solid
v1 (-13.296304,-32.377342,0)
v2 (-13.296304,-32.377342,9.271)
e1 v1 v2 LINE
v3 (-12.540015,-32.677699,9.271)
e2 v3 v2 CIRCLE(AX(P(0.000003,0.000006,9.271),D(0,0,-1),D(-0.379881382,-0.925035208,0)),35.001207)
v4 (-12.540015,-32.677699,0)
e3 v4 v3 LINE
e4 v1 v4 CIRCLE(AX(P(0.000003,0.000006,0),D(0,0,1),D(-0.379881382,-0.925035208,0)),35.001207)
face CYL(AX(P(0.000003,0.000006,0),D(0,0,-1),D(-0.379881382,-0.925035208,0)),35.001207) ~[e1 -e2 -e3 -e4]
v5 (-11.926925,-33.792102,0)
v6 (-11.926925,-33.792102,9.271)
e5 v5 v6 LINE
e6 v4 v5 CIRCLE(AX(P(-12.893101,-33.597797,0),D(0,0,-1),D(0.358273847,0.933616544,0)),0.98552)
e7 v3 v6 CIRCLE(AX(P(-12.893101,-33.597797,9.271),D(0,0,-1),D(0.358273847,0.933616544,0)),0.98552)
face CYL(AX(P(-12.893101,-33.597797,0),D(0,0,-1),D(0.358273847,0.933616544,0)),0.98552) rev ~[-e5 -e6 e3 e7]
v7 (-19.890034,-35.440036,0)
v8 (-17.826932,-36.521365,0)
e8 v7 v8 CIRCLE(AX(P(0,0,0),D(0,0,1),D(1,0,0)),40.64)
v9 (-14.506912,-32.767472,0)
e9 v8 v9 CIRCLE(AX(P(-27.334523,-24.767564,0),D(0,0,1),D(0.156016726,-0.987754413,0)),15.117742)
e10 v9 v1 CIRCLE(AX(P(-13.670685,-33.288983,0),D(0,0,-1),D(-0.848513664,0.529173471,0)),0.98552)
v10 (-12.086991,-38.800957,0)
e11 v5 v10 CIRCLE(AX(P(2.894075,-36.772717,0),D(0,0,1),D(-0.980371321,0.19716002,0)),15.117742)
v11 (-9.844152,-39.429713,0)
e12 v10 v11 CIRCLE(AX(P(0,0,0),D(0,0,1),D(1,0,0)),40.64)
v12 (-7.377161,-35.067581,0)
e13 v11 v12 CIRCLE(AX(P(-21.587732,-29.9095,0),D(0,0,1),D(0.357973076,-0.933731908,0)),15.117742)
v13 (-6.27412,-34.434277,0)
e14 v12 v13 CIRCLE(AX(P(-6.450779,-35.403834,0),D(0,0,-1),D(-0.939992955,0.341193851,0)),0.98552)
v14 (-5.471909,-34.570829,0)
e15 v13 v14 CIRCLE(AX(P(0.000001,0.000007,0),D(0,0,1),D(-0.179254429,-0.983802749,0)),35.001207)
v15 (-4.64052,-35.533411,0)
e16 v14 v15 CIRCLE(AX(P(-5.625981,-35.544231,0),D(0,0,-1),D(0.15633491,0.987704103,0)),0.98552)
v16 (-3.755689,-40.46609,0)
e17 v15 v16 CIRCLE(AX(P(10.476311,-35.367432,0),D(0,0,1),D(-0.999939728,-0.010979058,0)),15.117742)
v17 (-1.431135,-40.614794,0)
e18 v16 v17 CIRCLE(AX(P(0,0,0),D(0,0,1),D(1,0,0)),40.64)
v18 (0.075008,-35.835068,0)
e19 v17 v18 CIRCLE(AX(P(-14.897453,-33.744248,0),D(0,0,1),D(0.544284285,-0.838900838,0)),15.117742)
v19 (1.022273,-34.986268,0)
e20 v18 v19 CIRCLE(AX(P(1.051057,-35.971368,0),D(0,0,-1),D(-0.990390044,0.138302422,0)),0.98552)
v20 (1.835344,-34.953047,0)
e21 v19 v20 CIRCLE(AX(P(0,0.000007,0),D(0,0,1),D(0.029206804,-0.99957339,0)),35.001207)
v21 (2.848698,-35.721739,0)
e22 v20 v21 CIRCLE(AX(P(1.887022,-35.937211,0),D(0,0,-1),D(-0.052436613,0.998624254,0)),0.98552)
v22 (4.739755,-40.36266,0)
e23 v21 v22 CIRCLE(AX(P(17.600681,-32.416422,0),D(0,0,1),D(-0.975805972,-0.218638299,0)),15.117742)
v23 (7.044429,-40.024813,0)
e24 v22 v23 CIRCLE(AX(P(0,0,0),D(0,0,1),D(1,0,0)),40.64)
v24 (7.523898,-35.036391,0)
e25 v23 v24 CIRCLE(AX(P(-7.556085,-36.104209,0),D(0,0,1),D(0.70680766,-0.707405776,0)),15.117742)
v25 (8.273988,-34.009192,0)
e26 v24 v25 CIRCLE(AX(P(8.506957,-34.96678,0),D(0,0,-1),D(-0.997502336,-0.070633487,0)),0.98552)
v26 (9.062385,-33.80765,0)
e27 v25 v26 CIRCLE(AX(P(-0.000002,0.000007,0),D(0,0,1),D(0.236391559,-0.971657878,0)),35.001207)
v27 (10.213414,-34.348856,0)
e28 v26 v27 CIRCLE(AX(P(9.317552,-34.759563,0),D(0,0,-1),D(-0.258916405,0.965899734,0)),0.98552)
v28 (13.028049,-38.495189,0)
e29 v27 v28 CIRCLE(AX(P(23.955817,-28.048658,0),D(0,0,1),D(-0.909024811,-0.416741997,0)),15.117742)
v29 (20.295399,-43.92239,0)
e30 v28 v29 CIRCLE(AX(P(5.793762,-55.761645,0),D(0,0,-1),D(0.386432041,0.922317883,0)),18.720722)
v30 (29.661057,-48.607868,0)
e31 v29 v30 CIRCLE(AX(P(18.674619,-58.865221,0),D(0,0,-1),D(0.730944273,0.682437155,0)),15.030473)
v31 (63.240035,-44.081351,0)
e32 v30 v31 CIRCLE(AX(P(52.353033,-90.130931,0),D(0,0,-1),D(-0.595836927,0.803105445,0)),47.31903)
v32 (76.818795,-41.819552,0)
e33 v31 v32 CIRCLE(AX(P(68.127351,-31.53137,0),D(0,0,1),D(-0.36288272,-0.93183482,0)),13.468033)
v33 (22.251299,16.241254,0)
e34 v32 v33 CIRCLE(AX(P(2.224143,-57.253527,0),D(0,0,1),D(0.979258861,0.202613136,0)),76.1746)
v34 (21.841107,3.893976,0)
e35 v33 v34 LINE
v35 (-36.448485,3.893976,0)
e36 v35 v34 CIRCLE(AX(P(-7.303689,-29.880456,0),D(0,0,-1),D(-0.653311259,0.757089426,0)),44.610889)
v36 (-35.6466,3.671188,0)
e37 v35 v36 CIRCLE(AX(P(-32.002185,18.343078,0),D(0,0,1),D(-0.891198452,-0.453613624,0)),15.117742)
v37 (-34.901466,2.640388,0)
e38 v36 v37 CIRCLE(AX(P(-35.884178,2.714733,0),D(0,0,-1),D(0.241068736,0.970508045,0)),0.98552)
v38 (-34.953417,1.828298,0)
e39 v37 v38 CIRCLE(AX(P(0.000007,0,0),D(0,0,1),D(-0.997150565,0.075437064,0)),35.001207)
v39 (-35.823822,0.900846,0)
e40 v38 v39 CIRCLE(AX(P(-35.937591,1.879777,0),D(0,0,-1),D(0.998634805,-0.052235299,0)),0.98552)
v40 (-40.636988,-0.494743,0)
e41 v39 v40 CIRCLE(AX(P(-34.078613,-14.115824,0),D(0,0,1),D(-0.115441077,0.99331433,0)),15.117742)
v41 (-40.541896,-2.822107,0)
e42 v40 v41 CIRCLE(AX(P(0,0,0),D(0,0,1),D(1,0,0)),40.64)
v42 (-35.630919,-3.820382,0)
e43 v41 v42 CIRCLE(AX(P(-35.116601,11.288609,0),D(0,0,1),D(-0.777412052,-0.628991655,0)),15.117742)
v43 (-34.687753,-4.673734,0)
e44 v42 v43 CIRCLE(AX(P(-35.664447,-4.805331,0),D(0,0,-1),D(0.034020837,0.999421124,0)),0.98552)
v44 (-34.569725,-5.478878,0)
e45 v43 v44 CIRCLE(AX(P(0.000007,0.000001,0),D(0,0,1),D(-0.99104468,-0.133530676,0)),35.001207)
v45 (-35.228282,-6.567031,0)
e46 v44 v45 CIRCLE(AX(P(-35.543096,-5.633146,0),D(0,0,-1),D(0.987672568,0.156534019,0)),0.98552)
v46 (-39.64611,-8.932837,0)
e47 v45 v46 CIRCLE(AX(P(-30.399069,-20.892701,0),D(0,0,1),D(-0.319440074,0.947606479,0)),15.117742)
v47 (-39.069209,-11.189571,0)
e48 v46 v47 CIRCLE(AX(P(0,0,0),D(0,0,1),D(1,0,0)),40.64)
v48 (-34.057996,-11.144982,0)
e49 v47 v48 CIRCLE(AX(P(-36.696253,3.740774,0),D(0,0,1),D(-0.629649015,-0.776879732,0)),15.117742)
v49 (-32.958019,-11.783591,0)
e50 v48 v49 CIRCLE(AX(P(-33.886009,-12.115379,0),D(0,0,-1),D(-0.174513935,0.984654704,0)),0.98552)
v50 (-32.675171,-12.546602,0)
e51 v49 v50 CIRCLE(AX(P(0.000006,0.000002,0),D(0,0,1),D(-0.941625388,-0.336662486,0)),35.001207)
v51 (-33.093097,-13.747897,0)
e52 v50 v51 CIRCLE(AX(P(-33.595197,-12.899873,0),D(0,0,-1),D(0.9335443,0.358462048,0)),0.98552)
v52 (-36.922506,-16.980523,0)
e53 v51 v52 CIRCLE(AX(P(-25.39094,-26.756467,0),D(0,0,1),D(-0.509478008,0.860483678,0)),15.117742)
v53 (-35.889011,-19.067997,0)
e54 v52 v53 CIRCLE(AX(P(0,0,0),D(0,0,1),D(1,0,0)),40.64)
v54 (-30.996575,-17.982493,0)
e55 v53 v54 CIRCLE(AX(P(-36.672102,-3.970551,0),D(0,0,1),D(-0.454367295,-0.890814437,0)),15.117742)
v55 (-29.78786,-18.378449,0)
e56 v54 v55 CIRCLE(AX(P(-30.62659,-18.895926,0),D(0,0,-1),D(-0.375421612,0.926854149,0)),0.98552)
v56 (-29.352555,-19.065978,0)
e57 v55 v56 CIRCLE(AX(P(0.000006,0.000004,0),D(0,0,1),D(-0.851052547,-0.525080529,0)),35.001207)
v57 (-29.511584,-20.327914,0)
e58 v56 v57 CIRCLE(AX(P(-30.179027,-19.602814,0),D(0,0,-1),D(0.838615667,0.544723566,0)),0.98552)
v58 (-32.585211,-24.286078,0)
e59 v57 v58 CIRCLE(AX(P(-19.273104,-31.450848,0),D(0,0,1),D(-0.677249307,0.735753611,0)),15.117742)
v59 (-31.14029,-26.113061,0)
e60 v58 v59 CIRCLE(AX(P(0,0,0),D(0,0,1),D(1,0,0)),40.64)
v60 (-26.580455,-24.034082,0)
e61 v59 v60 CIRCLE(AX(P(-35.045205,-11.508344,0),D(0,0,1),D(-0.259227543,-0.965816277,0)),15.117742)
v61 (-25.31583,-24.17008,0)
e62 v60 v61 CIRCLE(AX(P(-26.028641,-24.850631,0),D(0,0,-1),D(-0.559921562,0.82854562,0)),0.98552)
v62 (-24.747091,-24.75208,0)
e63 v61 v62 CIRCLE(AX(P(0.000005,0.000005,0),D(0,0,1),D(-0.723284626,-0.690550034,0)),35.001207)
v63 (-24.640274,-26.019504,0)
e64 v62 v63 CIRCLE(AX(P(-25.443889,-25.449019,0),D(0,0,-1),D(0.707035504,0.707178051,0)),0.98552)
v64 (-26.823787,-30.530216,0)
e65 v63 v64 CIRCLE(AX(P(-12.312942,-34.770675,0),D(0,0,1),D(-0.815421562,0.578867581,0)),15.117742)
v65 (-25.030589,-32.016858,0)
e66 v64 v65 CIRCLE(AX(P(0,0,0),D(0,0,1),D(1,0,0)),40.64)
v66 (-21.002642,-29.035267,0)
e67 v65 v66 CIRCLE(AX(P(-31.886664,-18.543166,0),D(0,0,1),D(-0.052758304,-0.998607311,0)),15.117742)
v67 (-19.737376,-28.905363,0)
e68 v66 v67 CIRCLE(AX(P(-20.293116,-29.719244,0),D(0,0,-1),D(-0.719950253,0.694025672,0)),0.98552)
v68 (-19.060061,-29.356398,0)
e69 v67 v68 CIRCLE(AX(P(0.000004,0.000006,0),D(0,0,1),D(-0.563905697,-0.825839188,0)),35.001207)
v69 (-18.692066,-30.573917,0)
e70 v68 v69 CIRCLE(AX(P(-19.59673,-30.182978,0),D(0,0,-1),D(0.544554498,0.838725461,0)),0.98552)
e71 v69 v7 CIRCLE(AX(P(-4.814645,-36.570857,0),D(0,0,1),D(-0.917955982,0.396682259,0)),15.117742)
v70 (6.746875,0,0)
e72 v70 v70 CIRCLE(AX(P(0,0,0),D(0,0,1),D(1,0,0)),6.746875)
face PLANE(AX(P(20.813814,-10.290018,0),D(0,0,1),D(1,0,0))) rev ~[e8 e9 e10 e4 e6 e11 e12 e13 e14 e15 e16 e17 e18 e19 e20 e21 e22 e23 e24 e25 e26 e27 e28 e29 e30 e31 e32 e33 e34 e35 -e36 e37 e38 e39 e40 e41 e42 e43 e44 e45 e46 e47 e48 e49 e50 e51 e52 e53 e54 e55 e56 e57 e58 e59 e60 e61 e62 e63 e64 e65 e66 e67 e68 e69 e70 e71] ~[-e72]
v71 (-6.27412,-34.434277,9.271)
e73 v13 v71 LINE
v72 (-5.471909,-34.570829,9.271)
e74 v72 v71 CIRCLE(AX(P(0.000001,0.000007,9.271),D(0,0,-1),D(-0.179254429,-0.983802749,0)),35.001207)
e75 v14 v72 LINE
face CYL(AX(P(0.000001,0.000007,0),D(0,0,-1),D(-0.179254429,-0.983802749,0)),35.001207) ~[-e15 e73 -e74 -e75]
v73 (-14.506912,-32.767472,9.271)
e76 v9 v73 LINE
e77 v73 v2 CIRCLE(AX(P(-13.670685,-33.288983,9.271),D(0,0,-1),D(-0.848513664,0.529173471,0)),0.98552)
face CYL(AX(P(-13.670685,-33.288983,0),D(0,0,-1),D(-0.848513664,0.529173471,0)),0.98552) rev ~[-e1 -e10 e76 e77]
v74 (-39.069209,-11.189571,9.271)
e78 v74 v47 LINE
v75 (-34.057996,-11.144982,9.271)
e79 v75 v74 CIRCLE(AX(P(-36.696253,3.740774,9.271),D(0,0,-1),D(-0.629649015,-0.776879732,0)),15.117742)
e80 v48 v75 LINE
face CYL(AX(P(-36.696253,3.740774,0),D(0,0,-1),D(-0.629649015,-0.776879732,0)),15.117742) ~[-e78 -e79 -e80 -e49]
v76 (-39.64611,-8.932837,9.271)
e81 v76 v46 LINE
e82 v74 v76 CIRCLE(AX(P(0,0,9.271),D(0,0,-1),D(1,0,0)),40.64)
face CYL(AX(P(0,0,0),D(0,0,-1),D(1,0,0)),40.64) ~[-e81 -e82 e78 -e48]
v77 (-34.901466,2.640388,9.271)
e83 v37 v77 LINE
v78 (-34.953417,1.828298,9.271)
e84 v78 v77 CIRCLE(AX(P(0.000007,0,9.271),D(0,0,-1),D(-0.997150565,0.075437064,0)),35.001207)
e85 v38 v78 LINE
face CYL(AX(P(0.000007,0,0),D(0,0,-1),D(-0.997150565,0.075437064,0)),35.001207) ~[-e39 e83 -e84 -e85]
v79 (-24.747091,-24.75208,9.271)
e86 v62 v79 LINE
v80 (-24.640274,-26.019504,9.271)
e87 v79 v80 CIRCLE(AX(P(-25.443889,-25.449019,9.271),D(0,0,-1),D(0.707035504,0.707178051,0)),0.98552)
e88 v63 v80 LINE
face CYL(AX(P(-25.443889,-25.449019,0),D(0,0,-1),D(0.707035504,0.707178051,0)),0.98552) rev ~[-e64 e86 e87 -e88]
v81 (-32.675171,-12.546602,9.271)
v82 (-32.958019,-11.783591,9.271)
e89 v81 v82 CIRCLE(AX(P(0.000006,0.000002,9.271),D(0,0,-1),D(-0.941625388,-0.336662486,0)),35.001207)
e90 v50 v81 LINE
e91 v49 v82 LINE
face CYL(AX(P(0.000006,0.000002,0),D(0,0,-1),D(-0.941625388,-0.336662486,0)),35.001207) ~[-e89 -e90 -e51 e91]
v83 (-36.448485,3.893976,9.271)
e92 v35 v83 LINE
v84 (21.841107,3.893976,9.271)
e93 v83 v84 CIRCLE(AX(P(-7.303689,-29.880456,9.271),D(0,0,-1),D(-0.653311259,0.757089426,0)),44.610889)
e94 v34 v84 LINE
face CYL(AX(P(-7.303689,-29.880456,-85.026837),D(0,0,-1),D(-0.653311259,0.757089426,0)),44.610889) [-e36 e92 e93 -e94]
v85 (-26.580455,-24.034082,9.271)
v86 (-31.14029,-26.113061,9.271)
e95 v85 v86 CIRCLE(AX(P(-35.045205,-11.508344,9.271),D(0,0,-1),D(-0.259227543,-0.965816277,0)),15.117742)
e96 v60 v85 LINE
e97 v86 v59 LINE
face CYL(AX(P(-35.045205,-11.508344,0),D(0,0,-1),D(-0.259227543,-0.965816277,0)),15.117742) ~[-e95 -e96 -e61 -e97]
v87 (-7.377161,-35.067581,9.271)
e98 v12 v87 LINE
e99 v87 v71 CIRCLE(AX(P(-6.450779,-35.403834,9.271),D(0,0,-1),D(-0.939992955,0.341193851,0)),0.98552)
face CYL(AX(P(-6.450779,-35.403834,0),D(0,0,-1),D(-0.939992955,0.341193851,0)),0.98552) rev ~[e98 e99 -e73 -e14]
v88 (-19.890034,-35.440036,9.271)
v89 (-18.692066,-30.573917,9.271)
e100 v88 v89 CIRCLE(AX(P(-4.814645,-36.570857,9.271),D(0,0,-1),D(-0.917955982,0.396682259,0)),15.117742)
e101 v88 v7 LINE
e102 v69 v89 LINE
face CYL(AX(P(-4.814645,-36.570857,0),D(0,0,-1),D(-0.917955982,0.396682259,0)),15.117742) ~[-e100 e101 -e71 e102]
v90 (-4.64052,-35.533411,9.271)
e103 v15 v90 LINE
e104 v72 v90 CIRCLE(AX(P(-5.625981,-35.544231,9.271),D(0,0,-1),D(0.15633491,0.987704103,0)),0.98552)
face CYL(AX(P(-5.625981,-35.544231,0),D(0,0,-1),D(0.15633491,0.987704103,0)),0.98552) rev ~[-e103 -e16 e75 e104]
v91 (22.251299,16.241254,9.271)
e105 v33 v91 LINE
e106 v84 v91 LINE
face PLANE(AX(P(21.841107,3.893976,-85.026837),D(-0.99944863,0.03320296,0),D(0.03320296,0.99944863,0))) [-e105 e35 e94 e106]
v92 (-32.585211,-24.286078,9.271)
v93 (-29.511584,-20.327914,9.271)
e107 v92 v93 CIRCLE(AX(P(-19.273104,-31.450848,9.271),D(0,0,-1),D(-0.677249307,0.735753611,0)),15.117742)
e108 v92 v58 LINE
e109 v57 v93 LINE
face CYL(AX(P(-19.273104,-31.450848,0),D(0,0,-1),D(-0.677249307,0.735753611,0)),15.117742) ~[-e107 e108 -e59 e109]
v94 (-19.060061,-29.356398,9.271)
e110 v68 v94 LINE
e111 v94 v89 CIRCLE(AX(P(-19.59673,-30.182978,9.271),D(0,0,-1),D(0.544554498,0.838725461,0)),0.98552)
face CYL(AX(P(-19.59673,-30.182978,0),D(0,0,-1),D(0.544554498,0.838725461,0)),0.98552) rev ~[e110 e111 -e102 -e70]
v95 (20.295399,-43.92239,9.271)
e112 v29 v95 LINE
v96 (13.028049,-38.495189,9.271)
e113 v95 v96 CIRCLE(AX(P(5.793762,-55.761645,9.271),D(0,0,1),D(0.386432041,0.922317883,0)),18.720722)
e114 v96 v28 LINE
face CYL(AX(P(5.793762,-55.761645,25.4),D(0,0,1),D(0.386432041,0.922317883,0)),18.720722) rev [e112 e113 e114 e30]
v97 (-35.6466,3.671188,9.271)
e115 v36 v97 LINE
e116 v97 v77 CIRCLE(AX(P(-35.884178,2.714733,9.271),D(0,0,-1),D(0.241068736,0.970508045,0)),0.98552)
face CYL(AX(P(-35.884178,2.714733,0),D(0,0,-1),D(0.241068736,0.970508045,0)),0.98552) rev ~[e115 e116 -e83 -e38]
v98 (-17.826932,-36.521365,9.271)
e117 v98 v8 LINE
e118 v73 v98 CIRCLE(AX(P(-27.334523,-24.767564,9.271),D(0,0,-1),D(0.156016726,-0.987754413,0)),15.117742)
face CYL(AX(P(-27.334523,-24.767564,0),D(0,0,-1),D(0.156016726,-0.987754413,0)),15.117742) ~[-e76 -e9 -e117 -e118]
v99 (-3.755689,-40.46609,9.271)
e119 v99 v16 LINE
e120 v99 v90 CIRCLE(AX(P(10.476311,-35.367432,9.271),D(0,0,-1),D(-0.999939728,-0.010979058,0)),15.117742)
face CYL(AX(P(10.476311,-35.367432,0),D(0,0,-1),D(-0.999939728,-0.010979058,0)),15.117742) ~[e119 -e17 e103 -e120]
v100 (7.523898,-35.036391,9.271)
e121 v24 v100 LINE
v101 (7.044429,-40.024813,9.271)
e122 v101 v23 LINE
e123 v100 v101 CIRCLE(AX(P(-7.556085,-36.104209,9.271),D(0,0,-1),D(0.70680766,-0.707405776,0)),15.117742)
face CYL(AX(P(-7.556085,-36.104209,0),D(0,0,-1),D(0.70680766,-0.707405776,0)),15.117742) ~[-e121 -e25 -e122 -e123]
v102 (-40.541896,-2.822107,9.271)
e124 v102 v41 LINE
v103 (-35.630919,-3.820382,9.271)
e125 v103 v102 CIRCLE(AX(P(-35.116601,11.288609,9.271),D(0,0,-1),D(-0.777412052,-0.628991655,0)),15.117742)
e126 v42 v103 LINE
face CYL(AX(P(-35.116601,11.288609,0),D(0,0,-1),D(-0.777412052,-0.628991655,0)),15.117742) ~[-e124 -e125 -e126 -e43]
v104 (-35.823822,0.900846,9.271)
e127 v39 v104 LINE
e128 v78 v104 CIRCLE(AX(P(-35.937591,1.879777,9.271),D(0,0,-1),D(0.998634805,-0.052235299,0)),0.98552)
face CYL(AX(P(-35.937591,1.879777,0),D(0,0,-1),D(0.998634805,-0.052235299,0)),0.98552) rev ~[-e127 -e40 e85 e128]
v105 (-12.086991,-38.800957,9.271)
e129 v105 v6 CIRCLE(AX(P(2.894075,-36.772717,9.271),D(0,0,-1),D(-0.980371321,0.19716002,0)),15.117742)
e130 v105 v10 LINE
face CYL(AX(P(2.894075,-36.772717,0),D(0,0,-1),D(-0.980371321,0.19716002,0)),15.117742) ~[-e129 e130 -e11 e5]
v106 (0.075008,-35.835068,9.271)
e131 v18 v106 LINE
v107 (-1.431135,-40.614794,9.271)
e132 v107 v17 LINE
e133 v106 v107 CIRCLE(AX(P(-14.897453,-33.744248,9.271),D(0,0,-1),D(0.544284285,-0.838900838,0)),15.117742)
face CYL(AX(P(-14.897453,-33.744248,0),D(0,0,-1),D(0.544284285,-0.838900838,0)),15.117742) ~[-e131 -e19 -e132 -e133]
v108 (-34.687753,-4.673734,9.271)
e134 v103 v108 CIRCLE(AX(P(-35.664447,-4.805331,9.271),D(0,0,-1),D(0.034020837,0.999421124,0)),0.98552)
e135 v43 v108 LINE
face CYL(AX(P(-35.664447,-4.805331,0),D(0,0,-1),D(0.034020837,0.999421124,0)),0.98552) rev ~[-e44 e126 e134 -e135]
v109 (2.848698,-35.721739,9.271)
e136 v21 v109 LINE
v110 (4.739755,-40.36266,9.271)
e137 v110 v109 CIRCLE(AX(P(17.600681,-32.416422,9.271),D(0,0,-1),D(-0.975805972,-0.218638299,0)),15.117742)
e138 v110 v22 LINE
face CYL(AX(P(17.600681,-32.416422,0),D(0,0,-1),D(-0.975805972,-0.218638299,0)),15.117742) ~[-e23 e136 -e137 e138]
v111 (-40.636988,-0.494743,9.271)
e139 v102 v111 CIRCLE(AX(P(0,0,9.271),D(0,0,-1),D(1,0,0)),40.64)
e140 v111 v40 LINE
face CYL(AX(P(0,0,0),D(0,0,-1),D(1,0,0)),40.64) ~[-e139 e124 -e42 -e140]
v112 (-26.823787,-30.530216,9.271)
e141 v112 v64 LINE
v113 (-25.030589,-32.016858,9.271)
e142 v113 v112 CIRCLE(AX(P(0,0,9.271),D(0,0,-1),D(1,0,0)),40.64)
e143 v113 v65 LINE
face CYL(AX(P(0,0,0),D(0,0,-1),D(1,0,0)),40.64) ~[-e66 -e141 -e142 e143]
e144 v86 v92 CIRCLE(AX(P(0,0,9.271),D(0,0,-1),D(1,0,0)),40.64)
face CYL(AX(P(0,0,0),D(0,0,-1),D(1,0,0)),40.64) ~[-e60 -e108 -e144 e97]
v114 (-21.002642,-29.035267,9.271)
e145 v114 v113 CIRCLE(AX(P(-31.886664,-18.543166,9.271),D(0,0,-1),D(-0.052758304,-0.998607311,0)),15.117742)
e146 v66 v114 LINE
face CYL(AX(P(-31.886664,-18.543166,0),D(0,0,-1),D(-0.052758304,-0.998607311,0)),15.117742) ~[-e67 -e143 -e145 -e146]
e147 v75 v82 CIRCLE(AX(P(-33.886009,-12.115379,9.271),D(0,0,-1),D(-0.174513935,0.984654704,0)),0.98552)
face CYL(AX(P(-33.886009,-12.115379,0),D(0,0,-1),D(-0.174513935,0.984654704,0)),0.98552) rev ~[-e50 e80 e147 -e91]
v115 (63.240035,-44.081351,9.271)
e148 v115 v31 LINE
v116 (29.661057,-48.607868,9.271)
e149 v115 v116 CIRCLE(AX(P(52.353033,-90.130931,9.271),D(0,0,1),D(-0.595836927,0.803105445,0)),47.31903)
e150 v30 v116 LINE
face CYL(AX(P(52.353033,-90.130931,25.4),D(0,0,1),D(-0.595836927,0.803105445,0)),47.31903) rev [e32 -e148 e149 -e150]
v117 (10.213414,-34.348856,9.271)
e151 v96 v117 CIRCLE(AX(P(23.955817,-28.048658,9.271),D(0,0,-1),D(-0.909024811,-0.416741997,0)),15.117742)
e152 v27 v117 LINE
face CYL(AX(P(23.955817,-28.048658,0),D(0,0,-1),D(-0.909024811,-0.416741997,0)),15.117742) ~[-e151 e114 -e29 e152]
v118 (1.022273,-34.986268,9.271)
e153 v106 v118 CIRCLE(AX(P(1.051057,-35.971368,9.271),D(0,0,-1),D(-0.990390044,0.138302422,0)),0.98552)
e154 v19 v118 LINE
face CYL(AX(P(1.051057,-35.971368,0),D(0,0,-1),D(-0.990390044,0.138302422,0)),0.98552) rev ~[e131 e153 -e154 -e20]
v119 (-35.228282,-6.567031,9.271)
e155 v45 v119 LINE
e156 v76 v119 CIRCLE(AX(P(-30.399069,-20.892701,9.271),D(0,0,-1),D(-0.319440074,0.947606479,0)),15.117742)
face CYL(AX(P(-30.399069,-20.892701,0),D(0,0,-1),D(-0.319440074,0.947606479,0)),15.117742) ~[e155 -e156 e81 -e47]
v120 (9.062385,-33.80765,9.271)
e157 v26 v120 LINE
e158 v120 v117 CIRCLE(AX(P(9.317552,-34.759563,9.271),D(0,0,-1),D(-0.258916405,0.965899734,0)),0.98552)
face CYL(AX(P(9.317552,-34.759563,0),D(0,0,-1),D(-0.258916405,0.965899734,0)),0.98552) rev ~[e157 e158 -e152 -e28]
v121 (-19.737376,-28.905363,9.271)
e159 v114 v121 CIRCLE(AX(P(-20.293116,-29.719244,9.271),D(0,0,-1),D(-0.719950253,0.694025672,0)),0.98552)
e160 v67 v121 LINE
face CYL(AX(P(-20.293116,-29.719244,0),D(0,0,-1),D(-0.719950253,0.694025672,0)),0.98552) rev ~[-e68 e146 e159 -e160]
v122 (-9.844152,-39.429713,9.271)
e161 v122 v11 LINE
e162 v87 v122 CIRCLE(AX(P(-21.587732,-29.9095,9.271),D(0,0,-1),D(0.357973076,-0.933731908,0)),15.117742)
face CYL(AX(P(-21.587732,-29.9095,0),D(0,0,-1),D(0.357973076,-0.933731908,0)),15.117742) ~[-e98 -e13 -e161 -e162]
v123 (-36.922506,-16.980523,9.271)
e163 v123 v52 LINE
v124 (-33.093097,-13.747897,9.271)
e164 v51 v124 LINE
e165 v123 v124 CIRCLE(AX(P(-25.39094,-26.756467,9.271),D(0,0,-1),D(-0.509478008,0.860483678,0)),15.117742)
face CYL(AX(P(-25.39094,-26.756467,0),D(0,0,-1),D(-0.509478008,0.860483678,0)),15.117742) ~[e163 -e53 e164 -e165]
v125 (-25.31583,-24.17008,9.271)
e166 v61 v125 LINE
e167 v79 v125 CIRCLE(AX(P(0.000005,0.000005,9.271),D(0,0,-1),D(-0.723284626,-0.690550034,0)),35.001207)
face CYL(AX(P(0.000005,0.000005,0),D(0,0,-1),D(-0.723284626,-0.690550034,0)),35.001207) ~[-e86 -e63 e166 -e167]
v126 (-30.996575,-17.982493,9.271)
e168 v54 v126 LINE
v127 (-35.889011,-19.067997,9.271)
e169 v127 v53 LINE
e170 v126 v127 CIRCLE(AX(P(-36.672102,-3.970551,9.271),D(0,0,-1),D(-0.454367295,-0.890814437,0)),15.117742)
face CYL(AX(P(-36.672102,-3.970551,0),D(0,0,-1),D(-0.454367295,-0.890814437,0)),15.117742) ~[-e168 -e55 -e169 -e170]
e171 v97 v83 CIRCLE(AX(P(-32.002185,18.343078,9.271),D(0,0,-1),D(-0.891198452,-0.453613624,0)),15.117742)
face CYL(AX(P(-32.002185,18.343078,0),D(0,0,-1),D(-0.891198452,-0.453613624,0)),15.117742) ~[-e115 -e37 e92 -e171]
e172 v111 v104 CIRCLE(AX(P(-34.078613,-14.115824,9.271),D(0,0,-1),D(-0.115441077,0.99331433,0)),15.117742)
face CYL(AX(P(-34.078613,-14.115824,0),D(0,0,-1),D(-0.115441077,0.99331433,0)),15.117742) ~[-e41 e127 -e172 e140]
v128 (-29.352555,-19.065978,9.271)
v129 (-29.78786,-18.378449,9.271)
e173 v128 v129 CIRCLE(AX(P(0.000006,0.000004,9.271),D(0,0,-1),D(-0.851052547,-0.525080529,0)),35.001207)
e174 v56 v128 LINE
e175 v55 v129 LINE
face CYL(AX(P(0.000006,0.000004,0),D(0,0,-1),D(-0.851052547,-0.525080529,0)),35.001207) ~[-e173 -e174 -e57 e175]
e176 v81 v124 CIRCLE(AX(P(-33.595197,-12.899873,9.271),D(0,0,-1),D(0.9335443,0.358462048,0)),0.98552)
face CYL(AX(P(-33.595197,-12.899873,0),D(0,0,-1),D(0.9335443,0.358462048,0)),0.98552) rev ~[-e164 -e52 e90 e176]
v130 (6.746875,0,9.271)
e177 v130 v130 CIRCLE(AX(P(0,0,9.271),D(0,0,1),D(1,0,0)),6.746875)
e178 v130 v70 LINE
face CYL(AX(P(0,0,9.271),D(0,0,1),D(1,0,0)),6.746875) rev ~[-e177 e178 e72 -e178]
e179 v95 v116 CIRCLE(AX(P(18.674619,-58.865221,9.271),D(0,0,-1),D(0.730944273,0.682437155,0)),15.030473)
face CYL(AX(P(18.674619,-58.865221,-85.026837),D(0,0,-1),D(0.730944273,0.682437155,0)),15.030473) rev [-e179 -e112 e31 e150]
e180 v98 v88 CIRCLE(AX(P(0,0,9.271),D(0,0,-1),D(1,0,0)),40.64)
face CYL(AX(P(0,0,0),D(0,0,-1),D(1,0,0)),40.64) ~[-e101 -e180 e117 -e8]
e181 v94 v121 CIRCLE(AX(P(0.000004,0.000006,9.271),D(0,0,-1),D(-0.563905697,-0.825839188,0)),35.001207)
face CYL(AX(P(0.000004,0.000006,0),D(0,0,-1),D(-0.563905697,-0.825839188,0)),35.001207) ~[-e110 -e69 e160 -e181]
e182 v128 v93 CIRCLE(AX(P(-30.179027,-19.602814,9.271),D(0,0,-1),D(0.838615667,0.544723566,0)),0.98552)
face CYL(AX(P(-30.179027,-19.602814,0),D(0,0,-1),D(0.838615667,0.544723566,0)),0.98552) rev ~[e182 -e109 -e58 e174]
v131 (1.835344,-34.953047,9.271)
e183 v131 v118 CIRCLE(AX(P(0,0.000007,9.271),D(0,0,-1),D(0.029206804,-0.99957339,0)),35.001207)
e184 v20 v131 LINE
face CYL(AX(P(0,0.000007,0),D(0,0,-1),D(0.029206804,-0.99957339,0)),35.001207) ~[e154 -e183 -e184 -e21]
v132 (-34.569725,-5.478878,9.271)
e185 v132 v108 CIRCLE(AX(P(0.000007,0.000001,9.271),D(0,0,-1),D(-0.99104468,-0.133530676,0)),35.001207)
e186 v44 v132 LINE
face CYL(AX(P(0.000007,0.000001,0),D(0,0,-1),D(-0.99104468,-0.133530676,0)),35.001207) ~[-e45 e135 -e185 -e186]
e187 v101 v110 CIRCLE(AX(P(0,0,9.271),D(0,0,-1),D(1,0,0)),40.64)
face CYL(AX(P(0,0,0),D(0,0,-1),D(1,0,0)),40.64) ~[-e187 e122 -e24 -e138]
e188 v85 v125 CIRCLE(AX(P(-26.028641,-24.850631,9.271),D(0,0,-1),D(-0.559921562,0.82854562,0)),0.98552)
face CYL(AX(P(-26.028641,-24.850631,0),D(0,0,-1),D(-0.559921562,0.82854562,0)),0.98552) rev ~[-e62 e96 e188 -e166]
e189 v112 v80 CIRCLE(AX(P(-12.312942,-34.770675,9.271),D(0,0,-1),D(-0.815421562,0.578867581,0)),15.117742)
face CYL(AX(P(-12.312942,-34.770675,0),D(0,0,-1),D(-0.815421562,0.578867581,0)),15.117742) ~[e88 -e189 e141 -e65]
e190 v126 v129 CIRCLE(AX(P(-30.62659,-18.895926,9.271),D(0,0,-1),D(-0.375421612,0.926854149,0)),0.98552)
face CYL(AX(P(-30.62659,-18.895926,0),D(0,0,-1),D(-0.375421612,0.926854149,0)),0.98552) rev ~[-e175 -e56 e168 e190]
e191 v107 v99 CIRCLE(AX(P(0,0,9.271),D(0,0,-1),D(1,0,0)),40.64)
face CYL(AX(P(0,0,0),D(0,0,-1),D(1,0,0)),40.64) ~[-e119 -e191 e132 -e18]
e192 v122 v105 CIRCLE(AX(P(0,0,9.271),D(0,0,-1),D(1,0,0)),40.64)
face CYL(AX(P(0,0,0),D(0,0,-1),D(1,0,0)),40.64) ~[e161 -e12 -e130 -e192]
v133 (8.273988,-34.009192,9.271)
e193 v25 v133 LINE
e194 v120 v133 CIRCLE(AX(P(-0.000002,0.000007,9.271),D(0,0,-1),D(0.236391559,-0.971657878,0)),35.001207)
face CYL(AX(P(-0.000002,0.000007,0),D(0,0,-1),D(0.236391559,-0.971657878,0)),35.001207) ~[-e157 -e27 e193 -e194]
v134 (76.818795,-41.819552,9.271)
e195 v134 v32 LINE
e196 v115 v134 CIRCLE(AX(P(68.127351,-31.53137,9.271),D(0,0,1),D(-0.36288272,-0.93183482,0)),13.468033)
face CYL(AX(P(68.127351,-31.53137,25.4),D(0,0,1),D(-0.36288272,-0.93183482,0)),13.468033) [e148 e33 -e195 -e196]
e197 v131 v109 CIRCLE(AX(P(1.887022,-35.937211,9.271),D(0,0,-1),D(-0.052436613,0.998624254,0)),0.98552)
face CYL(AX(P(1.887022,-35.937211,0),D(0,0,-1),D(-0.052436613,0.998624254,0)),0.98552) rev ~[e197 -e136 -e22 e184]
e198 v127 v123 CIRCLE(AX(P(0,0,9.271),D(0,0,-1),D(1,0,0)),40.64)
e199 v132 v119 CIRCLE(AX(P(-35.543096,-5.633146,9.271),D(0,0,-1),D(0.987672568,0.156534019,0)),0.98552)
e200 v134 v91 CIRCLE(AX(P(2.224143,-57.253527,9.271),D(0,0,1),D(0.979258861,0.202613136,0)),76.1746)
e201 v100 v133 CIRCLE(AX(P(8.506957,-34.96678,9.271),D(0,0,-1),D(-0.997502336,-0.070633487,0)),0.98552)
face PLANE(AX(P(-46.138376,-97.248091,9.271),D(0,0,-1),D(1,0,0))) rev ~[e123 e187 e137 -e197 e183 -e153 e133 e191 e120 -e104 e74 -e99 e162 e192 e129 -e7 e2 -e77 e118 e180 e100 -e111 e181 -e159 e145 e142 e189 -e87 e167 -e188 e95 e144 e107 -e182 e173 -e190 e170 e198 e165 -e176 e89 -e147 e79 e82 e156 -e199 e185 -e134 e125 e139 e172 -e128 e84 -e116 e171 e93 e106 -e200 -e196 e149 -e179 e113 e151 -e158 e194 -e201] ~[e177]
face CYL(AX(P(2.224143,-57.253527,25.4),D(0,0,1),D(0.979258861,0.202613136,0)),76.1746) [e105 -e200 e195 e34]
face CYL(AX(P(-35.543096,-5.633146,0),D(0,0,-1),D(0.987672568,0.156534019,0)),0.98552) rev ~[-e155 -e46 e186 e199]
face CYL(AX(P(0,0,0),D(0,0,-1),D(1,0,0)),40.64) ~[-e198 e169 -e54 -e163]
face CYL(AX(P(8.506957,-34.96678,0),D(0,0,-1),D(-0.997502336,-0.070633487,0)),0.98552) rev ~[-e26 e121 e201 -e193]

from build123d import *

# Parameters (mm, degrees)
SKETCH3_R               = 40.64
GEARBODY_DEPTH          = 25.4
TOOTHCUT_DEPTH          = 63.836129734
CIRPATTERN1_COUNT       = 30
BOREDIA_R               = 9.525
BORE_DEPTH              = 12700
CUT_EXTRUDE1_DEPTH      = 63.817881856
BOSS_EXTRUDE1_DEPTH     = 25.4
CUT_EXTRUDE2_DEPTH      = 97.248090867
CUT_EXTRUDE2_DEPTH_BACK = 97.248090867
CUT_EXTRUDE3_DEPTH      = 94.297837255
CUT_EXTRUDE3_DEPTH_BACK = 94.297837255
SKETCH8_R               = 10.901188975
SKETCH8_R_2             = 6.746875
BOSS_EXTRUDE2_DEPTH     = 9.271
CUT_EXTRUDE4_DEPTH      = 94.297837255
CUT_EXTRUDE4_DEPTH_BACK = 94.297837255


with BuildPart() as part:
    # Sketch3 → gearBody (new body)
    with BuildSketch(Plane.XY):
        Circle(SKETCH3_R)
    extrude(amount=GEARBODY_DEPTH)

    # Sketch2 → toothCut (cut, through all)
    with BuildSketch(Plane.XY):
        with BuildLine():
            ThreePointArc((34.901466352, -2.640387833), (34.929801576, -2.234493965), (34.953416534, -1.828298136))
            ThreePointArc((34.953416534, -1.828298136), (35.218972856, -1.205360668), (35.823821616, -0.900845929))
            ThreePointArc((35.823821616, -0.900845929), (41.902420255, 1.180053047), (46.567899911, 5.597382731))
            ThreePointArc((46.567899911, 5.597382731), (46.807414621, -2.994316622), (45.4750933, -11.485464069))
            ThreePointArc((45.4750933, -11.485464069), (41.410501506, -6.509663078), (35.646600115, -3.671187658))
            ThreePointArc((35.646600115, -3.671187658), (35.08548304, -3.292084932), (34.901466352, -2.640387833))
        make_face()
    toothcut = extrude(amount=TOOTHCUT_DEPTH, mode=Mode.SUBTRACT)

    # CirPattern1: toothCut ×30 about axis
    cirpattern1_axis = Axis((0, 0, 0), (0, 0, 1))
    for i in range(1, CIRPATTERN1_COUNT):
        add(toothcut.rotate(cirpattern1_axis, i * 360 / CIRPATTERN1_COUNT), mode=Mode.SUBTRACT)

    # boreDia → bore (cut, symmetric)
    with BuildSketch(Plane.XY):
        Circle(BOREDIA_R)
    extrude(amount=BORE_DEPTH, both=True, mode=Mode.SUBTRACT)

    # Sketch4 → Cut-Extrude1 (cut, through all)
    with BuildSketch(Plane.XY.offset(25.4)):
        with BuildLine():
            ThreePointArc((-43.554352266, 3.655257975), (1.299887875, 18.694416006), (46.382242057, 4.353548725))
            ThreePointArc((46.382242057, 4.353548725), (1.078287813, 47.235471327), (-43.554352266, 3.655257975))
        make_face()
    extrude(amount=-CUT_EXTRUDE1_DEPTH, mode=Mode.SUBTRACT)

    # Sketch5 → Boss-Extrude1 (add)
    with BuildSketch(Plane.XY.offset(25.4)):
        with BuildLine():
            Line((-40.520407877, 5.797825642), (17.717099168, 12.48871132))
            Line((17.717099168, 12.48871132), (8.960832095, -26.928019276))
            Line((8.960832095, -26.928019276), (13.028048789, -38.495188592))
            ThreePointArc((13.028048789, -38.495188592), (20.295398902, -43.922390287), (24.158608262, -52.128760334))
            ThreePointArc((24.158608262, -52.128760334), (42.8096102, -43.78426266), (63.240034891, -44.081351255))
            ThreePointArc((63.240034891, -44.081351255), (70.340218446, -44.816365594), (76.818795497, -41.819551953))
            ThreePointArc((76.818795497, -41.819551953), (30.86783196, 13.330528242), (-40.520407877, 5.797825642))
        make_face()
    extrude(amount=-BOSS_EXTRUDE1_DEPTH)

    # Sketch6 → Cut-Extrude2 (cut, two sides: drawn at the far end of the back side and taken through both)
    with BuildSketch(Plane(origin=(0, 0, 0), x_dir=(1, 0, 0), z_dir=(0, 1, 0)).offset(-CUT_EXTRUDE2_DEPTH_BACK)):
        Polygon((-46.138376309, -9.271), (97.816171298, -9.271), (71.932802696, -41.15378122), (-48.678279579, -38.064709676), align=None)
    extrude(amount=CUT_EXTRUDE2_DEPTH + CUT_EXTRUDE2_DEPTH_BACK, mode=Mode.SUBTRACT)

    # Sketch7 → Cut-Extrude3 (cut, two sides: drawn at the far end of the back side and taken through both)
    with BuildSketch(Plane.XY.offset(9.271).offset(-CUT_EXTRUDE3_DEPTH_BACK)):
        with BuildLine():
            Line((21.841106952, 3.893976142), (22.251299285, 16.241253613))
            Line((22.251299285, 16.241253613), (23.901139449, 23.204831581))
            Line((23.901139449, 23.204831581), (-36.876630256, 21.261551183))
            Line((-36.876630256, 21.261551183), (-43.577597148, 3.302959913))
            Line((-43.577597148, 3.302959913), (-36.448484964, 3.893976142))
            ThreePointArc((-36.448484964, 3.893976142), (-7.303689006, 14.730432769), (21.841106952, 3.893976142))
        make_face()
    extrude(amount=CUT_EXTRUDE3_DEPTH + CUT_EXTRUDE3_DEPTH_BACK, mode=Mode.SUBTRACT)

    # Sketch8 → Boss-Extrude2 (add)
    with BuildSketch(Plane.XY.offset(9.271)):
        Circle(SKETCH8_R)
        Circle(SKETCH8_R_2, mode=Mode.SUBTRACT)
    extrude(amount=-BOSS_EXTRUDE2_DEPTH)

    # Sketch9 → Cut-Extrude4 (cut, two sides: drawn at the far end of the back side and taken through both)
    with BuildSketch(Plane.XY.offset(9.271).offset(-CUT_EXTRUDE4_DEPTH_BACK)):
        with BuildLine():
            Line((20.295398902, -43.922390287), (23.1683449, -52.694459817))
            Line((23.1683449, -52.694459817), (26.579367988, -52.803988081))
            Line((26.579367988, -52.803988081), (29.661056762, -48.607867727))
            ThreePointArc((29.661056762, -48.607867727), (25.399491401, -45.423078115), (20.295398902, -43.922390287))
        make_face()
    extrude(amount=CUT_EXTRUDE4_DEPTH + CUT_EXTRUDE4_DEPTH_BACK, mode=Mode.SUBTRACT)


solid = part.part
